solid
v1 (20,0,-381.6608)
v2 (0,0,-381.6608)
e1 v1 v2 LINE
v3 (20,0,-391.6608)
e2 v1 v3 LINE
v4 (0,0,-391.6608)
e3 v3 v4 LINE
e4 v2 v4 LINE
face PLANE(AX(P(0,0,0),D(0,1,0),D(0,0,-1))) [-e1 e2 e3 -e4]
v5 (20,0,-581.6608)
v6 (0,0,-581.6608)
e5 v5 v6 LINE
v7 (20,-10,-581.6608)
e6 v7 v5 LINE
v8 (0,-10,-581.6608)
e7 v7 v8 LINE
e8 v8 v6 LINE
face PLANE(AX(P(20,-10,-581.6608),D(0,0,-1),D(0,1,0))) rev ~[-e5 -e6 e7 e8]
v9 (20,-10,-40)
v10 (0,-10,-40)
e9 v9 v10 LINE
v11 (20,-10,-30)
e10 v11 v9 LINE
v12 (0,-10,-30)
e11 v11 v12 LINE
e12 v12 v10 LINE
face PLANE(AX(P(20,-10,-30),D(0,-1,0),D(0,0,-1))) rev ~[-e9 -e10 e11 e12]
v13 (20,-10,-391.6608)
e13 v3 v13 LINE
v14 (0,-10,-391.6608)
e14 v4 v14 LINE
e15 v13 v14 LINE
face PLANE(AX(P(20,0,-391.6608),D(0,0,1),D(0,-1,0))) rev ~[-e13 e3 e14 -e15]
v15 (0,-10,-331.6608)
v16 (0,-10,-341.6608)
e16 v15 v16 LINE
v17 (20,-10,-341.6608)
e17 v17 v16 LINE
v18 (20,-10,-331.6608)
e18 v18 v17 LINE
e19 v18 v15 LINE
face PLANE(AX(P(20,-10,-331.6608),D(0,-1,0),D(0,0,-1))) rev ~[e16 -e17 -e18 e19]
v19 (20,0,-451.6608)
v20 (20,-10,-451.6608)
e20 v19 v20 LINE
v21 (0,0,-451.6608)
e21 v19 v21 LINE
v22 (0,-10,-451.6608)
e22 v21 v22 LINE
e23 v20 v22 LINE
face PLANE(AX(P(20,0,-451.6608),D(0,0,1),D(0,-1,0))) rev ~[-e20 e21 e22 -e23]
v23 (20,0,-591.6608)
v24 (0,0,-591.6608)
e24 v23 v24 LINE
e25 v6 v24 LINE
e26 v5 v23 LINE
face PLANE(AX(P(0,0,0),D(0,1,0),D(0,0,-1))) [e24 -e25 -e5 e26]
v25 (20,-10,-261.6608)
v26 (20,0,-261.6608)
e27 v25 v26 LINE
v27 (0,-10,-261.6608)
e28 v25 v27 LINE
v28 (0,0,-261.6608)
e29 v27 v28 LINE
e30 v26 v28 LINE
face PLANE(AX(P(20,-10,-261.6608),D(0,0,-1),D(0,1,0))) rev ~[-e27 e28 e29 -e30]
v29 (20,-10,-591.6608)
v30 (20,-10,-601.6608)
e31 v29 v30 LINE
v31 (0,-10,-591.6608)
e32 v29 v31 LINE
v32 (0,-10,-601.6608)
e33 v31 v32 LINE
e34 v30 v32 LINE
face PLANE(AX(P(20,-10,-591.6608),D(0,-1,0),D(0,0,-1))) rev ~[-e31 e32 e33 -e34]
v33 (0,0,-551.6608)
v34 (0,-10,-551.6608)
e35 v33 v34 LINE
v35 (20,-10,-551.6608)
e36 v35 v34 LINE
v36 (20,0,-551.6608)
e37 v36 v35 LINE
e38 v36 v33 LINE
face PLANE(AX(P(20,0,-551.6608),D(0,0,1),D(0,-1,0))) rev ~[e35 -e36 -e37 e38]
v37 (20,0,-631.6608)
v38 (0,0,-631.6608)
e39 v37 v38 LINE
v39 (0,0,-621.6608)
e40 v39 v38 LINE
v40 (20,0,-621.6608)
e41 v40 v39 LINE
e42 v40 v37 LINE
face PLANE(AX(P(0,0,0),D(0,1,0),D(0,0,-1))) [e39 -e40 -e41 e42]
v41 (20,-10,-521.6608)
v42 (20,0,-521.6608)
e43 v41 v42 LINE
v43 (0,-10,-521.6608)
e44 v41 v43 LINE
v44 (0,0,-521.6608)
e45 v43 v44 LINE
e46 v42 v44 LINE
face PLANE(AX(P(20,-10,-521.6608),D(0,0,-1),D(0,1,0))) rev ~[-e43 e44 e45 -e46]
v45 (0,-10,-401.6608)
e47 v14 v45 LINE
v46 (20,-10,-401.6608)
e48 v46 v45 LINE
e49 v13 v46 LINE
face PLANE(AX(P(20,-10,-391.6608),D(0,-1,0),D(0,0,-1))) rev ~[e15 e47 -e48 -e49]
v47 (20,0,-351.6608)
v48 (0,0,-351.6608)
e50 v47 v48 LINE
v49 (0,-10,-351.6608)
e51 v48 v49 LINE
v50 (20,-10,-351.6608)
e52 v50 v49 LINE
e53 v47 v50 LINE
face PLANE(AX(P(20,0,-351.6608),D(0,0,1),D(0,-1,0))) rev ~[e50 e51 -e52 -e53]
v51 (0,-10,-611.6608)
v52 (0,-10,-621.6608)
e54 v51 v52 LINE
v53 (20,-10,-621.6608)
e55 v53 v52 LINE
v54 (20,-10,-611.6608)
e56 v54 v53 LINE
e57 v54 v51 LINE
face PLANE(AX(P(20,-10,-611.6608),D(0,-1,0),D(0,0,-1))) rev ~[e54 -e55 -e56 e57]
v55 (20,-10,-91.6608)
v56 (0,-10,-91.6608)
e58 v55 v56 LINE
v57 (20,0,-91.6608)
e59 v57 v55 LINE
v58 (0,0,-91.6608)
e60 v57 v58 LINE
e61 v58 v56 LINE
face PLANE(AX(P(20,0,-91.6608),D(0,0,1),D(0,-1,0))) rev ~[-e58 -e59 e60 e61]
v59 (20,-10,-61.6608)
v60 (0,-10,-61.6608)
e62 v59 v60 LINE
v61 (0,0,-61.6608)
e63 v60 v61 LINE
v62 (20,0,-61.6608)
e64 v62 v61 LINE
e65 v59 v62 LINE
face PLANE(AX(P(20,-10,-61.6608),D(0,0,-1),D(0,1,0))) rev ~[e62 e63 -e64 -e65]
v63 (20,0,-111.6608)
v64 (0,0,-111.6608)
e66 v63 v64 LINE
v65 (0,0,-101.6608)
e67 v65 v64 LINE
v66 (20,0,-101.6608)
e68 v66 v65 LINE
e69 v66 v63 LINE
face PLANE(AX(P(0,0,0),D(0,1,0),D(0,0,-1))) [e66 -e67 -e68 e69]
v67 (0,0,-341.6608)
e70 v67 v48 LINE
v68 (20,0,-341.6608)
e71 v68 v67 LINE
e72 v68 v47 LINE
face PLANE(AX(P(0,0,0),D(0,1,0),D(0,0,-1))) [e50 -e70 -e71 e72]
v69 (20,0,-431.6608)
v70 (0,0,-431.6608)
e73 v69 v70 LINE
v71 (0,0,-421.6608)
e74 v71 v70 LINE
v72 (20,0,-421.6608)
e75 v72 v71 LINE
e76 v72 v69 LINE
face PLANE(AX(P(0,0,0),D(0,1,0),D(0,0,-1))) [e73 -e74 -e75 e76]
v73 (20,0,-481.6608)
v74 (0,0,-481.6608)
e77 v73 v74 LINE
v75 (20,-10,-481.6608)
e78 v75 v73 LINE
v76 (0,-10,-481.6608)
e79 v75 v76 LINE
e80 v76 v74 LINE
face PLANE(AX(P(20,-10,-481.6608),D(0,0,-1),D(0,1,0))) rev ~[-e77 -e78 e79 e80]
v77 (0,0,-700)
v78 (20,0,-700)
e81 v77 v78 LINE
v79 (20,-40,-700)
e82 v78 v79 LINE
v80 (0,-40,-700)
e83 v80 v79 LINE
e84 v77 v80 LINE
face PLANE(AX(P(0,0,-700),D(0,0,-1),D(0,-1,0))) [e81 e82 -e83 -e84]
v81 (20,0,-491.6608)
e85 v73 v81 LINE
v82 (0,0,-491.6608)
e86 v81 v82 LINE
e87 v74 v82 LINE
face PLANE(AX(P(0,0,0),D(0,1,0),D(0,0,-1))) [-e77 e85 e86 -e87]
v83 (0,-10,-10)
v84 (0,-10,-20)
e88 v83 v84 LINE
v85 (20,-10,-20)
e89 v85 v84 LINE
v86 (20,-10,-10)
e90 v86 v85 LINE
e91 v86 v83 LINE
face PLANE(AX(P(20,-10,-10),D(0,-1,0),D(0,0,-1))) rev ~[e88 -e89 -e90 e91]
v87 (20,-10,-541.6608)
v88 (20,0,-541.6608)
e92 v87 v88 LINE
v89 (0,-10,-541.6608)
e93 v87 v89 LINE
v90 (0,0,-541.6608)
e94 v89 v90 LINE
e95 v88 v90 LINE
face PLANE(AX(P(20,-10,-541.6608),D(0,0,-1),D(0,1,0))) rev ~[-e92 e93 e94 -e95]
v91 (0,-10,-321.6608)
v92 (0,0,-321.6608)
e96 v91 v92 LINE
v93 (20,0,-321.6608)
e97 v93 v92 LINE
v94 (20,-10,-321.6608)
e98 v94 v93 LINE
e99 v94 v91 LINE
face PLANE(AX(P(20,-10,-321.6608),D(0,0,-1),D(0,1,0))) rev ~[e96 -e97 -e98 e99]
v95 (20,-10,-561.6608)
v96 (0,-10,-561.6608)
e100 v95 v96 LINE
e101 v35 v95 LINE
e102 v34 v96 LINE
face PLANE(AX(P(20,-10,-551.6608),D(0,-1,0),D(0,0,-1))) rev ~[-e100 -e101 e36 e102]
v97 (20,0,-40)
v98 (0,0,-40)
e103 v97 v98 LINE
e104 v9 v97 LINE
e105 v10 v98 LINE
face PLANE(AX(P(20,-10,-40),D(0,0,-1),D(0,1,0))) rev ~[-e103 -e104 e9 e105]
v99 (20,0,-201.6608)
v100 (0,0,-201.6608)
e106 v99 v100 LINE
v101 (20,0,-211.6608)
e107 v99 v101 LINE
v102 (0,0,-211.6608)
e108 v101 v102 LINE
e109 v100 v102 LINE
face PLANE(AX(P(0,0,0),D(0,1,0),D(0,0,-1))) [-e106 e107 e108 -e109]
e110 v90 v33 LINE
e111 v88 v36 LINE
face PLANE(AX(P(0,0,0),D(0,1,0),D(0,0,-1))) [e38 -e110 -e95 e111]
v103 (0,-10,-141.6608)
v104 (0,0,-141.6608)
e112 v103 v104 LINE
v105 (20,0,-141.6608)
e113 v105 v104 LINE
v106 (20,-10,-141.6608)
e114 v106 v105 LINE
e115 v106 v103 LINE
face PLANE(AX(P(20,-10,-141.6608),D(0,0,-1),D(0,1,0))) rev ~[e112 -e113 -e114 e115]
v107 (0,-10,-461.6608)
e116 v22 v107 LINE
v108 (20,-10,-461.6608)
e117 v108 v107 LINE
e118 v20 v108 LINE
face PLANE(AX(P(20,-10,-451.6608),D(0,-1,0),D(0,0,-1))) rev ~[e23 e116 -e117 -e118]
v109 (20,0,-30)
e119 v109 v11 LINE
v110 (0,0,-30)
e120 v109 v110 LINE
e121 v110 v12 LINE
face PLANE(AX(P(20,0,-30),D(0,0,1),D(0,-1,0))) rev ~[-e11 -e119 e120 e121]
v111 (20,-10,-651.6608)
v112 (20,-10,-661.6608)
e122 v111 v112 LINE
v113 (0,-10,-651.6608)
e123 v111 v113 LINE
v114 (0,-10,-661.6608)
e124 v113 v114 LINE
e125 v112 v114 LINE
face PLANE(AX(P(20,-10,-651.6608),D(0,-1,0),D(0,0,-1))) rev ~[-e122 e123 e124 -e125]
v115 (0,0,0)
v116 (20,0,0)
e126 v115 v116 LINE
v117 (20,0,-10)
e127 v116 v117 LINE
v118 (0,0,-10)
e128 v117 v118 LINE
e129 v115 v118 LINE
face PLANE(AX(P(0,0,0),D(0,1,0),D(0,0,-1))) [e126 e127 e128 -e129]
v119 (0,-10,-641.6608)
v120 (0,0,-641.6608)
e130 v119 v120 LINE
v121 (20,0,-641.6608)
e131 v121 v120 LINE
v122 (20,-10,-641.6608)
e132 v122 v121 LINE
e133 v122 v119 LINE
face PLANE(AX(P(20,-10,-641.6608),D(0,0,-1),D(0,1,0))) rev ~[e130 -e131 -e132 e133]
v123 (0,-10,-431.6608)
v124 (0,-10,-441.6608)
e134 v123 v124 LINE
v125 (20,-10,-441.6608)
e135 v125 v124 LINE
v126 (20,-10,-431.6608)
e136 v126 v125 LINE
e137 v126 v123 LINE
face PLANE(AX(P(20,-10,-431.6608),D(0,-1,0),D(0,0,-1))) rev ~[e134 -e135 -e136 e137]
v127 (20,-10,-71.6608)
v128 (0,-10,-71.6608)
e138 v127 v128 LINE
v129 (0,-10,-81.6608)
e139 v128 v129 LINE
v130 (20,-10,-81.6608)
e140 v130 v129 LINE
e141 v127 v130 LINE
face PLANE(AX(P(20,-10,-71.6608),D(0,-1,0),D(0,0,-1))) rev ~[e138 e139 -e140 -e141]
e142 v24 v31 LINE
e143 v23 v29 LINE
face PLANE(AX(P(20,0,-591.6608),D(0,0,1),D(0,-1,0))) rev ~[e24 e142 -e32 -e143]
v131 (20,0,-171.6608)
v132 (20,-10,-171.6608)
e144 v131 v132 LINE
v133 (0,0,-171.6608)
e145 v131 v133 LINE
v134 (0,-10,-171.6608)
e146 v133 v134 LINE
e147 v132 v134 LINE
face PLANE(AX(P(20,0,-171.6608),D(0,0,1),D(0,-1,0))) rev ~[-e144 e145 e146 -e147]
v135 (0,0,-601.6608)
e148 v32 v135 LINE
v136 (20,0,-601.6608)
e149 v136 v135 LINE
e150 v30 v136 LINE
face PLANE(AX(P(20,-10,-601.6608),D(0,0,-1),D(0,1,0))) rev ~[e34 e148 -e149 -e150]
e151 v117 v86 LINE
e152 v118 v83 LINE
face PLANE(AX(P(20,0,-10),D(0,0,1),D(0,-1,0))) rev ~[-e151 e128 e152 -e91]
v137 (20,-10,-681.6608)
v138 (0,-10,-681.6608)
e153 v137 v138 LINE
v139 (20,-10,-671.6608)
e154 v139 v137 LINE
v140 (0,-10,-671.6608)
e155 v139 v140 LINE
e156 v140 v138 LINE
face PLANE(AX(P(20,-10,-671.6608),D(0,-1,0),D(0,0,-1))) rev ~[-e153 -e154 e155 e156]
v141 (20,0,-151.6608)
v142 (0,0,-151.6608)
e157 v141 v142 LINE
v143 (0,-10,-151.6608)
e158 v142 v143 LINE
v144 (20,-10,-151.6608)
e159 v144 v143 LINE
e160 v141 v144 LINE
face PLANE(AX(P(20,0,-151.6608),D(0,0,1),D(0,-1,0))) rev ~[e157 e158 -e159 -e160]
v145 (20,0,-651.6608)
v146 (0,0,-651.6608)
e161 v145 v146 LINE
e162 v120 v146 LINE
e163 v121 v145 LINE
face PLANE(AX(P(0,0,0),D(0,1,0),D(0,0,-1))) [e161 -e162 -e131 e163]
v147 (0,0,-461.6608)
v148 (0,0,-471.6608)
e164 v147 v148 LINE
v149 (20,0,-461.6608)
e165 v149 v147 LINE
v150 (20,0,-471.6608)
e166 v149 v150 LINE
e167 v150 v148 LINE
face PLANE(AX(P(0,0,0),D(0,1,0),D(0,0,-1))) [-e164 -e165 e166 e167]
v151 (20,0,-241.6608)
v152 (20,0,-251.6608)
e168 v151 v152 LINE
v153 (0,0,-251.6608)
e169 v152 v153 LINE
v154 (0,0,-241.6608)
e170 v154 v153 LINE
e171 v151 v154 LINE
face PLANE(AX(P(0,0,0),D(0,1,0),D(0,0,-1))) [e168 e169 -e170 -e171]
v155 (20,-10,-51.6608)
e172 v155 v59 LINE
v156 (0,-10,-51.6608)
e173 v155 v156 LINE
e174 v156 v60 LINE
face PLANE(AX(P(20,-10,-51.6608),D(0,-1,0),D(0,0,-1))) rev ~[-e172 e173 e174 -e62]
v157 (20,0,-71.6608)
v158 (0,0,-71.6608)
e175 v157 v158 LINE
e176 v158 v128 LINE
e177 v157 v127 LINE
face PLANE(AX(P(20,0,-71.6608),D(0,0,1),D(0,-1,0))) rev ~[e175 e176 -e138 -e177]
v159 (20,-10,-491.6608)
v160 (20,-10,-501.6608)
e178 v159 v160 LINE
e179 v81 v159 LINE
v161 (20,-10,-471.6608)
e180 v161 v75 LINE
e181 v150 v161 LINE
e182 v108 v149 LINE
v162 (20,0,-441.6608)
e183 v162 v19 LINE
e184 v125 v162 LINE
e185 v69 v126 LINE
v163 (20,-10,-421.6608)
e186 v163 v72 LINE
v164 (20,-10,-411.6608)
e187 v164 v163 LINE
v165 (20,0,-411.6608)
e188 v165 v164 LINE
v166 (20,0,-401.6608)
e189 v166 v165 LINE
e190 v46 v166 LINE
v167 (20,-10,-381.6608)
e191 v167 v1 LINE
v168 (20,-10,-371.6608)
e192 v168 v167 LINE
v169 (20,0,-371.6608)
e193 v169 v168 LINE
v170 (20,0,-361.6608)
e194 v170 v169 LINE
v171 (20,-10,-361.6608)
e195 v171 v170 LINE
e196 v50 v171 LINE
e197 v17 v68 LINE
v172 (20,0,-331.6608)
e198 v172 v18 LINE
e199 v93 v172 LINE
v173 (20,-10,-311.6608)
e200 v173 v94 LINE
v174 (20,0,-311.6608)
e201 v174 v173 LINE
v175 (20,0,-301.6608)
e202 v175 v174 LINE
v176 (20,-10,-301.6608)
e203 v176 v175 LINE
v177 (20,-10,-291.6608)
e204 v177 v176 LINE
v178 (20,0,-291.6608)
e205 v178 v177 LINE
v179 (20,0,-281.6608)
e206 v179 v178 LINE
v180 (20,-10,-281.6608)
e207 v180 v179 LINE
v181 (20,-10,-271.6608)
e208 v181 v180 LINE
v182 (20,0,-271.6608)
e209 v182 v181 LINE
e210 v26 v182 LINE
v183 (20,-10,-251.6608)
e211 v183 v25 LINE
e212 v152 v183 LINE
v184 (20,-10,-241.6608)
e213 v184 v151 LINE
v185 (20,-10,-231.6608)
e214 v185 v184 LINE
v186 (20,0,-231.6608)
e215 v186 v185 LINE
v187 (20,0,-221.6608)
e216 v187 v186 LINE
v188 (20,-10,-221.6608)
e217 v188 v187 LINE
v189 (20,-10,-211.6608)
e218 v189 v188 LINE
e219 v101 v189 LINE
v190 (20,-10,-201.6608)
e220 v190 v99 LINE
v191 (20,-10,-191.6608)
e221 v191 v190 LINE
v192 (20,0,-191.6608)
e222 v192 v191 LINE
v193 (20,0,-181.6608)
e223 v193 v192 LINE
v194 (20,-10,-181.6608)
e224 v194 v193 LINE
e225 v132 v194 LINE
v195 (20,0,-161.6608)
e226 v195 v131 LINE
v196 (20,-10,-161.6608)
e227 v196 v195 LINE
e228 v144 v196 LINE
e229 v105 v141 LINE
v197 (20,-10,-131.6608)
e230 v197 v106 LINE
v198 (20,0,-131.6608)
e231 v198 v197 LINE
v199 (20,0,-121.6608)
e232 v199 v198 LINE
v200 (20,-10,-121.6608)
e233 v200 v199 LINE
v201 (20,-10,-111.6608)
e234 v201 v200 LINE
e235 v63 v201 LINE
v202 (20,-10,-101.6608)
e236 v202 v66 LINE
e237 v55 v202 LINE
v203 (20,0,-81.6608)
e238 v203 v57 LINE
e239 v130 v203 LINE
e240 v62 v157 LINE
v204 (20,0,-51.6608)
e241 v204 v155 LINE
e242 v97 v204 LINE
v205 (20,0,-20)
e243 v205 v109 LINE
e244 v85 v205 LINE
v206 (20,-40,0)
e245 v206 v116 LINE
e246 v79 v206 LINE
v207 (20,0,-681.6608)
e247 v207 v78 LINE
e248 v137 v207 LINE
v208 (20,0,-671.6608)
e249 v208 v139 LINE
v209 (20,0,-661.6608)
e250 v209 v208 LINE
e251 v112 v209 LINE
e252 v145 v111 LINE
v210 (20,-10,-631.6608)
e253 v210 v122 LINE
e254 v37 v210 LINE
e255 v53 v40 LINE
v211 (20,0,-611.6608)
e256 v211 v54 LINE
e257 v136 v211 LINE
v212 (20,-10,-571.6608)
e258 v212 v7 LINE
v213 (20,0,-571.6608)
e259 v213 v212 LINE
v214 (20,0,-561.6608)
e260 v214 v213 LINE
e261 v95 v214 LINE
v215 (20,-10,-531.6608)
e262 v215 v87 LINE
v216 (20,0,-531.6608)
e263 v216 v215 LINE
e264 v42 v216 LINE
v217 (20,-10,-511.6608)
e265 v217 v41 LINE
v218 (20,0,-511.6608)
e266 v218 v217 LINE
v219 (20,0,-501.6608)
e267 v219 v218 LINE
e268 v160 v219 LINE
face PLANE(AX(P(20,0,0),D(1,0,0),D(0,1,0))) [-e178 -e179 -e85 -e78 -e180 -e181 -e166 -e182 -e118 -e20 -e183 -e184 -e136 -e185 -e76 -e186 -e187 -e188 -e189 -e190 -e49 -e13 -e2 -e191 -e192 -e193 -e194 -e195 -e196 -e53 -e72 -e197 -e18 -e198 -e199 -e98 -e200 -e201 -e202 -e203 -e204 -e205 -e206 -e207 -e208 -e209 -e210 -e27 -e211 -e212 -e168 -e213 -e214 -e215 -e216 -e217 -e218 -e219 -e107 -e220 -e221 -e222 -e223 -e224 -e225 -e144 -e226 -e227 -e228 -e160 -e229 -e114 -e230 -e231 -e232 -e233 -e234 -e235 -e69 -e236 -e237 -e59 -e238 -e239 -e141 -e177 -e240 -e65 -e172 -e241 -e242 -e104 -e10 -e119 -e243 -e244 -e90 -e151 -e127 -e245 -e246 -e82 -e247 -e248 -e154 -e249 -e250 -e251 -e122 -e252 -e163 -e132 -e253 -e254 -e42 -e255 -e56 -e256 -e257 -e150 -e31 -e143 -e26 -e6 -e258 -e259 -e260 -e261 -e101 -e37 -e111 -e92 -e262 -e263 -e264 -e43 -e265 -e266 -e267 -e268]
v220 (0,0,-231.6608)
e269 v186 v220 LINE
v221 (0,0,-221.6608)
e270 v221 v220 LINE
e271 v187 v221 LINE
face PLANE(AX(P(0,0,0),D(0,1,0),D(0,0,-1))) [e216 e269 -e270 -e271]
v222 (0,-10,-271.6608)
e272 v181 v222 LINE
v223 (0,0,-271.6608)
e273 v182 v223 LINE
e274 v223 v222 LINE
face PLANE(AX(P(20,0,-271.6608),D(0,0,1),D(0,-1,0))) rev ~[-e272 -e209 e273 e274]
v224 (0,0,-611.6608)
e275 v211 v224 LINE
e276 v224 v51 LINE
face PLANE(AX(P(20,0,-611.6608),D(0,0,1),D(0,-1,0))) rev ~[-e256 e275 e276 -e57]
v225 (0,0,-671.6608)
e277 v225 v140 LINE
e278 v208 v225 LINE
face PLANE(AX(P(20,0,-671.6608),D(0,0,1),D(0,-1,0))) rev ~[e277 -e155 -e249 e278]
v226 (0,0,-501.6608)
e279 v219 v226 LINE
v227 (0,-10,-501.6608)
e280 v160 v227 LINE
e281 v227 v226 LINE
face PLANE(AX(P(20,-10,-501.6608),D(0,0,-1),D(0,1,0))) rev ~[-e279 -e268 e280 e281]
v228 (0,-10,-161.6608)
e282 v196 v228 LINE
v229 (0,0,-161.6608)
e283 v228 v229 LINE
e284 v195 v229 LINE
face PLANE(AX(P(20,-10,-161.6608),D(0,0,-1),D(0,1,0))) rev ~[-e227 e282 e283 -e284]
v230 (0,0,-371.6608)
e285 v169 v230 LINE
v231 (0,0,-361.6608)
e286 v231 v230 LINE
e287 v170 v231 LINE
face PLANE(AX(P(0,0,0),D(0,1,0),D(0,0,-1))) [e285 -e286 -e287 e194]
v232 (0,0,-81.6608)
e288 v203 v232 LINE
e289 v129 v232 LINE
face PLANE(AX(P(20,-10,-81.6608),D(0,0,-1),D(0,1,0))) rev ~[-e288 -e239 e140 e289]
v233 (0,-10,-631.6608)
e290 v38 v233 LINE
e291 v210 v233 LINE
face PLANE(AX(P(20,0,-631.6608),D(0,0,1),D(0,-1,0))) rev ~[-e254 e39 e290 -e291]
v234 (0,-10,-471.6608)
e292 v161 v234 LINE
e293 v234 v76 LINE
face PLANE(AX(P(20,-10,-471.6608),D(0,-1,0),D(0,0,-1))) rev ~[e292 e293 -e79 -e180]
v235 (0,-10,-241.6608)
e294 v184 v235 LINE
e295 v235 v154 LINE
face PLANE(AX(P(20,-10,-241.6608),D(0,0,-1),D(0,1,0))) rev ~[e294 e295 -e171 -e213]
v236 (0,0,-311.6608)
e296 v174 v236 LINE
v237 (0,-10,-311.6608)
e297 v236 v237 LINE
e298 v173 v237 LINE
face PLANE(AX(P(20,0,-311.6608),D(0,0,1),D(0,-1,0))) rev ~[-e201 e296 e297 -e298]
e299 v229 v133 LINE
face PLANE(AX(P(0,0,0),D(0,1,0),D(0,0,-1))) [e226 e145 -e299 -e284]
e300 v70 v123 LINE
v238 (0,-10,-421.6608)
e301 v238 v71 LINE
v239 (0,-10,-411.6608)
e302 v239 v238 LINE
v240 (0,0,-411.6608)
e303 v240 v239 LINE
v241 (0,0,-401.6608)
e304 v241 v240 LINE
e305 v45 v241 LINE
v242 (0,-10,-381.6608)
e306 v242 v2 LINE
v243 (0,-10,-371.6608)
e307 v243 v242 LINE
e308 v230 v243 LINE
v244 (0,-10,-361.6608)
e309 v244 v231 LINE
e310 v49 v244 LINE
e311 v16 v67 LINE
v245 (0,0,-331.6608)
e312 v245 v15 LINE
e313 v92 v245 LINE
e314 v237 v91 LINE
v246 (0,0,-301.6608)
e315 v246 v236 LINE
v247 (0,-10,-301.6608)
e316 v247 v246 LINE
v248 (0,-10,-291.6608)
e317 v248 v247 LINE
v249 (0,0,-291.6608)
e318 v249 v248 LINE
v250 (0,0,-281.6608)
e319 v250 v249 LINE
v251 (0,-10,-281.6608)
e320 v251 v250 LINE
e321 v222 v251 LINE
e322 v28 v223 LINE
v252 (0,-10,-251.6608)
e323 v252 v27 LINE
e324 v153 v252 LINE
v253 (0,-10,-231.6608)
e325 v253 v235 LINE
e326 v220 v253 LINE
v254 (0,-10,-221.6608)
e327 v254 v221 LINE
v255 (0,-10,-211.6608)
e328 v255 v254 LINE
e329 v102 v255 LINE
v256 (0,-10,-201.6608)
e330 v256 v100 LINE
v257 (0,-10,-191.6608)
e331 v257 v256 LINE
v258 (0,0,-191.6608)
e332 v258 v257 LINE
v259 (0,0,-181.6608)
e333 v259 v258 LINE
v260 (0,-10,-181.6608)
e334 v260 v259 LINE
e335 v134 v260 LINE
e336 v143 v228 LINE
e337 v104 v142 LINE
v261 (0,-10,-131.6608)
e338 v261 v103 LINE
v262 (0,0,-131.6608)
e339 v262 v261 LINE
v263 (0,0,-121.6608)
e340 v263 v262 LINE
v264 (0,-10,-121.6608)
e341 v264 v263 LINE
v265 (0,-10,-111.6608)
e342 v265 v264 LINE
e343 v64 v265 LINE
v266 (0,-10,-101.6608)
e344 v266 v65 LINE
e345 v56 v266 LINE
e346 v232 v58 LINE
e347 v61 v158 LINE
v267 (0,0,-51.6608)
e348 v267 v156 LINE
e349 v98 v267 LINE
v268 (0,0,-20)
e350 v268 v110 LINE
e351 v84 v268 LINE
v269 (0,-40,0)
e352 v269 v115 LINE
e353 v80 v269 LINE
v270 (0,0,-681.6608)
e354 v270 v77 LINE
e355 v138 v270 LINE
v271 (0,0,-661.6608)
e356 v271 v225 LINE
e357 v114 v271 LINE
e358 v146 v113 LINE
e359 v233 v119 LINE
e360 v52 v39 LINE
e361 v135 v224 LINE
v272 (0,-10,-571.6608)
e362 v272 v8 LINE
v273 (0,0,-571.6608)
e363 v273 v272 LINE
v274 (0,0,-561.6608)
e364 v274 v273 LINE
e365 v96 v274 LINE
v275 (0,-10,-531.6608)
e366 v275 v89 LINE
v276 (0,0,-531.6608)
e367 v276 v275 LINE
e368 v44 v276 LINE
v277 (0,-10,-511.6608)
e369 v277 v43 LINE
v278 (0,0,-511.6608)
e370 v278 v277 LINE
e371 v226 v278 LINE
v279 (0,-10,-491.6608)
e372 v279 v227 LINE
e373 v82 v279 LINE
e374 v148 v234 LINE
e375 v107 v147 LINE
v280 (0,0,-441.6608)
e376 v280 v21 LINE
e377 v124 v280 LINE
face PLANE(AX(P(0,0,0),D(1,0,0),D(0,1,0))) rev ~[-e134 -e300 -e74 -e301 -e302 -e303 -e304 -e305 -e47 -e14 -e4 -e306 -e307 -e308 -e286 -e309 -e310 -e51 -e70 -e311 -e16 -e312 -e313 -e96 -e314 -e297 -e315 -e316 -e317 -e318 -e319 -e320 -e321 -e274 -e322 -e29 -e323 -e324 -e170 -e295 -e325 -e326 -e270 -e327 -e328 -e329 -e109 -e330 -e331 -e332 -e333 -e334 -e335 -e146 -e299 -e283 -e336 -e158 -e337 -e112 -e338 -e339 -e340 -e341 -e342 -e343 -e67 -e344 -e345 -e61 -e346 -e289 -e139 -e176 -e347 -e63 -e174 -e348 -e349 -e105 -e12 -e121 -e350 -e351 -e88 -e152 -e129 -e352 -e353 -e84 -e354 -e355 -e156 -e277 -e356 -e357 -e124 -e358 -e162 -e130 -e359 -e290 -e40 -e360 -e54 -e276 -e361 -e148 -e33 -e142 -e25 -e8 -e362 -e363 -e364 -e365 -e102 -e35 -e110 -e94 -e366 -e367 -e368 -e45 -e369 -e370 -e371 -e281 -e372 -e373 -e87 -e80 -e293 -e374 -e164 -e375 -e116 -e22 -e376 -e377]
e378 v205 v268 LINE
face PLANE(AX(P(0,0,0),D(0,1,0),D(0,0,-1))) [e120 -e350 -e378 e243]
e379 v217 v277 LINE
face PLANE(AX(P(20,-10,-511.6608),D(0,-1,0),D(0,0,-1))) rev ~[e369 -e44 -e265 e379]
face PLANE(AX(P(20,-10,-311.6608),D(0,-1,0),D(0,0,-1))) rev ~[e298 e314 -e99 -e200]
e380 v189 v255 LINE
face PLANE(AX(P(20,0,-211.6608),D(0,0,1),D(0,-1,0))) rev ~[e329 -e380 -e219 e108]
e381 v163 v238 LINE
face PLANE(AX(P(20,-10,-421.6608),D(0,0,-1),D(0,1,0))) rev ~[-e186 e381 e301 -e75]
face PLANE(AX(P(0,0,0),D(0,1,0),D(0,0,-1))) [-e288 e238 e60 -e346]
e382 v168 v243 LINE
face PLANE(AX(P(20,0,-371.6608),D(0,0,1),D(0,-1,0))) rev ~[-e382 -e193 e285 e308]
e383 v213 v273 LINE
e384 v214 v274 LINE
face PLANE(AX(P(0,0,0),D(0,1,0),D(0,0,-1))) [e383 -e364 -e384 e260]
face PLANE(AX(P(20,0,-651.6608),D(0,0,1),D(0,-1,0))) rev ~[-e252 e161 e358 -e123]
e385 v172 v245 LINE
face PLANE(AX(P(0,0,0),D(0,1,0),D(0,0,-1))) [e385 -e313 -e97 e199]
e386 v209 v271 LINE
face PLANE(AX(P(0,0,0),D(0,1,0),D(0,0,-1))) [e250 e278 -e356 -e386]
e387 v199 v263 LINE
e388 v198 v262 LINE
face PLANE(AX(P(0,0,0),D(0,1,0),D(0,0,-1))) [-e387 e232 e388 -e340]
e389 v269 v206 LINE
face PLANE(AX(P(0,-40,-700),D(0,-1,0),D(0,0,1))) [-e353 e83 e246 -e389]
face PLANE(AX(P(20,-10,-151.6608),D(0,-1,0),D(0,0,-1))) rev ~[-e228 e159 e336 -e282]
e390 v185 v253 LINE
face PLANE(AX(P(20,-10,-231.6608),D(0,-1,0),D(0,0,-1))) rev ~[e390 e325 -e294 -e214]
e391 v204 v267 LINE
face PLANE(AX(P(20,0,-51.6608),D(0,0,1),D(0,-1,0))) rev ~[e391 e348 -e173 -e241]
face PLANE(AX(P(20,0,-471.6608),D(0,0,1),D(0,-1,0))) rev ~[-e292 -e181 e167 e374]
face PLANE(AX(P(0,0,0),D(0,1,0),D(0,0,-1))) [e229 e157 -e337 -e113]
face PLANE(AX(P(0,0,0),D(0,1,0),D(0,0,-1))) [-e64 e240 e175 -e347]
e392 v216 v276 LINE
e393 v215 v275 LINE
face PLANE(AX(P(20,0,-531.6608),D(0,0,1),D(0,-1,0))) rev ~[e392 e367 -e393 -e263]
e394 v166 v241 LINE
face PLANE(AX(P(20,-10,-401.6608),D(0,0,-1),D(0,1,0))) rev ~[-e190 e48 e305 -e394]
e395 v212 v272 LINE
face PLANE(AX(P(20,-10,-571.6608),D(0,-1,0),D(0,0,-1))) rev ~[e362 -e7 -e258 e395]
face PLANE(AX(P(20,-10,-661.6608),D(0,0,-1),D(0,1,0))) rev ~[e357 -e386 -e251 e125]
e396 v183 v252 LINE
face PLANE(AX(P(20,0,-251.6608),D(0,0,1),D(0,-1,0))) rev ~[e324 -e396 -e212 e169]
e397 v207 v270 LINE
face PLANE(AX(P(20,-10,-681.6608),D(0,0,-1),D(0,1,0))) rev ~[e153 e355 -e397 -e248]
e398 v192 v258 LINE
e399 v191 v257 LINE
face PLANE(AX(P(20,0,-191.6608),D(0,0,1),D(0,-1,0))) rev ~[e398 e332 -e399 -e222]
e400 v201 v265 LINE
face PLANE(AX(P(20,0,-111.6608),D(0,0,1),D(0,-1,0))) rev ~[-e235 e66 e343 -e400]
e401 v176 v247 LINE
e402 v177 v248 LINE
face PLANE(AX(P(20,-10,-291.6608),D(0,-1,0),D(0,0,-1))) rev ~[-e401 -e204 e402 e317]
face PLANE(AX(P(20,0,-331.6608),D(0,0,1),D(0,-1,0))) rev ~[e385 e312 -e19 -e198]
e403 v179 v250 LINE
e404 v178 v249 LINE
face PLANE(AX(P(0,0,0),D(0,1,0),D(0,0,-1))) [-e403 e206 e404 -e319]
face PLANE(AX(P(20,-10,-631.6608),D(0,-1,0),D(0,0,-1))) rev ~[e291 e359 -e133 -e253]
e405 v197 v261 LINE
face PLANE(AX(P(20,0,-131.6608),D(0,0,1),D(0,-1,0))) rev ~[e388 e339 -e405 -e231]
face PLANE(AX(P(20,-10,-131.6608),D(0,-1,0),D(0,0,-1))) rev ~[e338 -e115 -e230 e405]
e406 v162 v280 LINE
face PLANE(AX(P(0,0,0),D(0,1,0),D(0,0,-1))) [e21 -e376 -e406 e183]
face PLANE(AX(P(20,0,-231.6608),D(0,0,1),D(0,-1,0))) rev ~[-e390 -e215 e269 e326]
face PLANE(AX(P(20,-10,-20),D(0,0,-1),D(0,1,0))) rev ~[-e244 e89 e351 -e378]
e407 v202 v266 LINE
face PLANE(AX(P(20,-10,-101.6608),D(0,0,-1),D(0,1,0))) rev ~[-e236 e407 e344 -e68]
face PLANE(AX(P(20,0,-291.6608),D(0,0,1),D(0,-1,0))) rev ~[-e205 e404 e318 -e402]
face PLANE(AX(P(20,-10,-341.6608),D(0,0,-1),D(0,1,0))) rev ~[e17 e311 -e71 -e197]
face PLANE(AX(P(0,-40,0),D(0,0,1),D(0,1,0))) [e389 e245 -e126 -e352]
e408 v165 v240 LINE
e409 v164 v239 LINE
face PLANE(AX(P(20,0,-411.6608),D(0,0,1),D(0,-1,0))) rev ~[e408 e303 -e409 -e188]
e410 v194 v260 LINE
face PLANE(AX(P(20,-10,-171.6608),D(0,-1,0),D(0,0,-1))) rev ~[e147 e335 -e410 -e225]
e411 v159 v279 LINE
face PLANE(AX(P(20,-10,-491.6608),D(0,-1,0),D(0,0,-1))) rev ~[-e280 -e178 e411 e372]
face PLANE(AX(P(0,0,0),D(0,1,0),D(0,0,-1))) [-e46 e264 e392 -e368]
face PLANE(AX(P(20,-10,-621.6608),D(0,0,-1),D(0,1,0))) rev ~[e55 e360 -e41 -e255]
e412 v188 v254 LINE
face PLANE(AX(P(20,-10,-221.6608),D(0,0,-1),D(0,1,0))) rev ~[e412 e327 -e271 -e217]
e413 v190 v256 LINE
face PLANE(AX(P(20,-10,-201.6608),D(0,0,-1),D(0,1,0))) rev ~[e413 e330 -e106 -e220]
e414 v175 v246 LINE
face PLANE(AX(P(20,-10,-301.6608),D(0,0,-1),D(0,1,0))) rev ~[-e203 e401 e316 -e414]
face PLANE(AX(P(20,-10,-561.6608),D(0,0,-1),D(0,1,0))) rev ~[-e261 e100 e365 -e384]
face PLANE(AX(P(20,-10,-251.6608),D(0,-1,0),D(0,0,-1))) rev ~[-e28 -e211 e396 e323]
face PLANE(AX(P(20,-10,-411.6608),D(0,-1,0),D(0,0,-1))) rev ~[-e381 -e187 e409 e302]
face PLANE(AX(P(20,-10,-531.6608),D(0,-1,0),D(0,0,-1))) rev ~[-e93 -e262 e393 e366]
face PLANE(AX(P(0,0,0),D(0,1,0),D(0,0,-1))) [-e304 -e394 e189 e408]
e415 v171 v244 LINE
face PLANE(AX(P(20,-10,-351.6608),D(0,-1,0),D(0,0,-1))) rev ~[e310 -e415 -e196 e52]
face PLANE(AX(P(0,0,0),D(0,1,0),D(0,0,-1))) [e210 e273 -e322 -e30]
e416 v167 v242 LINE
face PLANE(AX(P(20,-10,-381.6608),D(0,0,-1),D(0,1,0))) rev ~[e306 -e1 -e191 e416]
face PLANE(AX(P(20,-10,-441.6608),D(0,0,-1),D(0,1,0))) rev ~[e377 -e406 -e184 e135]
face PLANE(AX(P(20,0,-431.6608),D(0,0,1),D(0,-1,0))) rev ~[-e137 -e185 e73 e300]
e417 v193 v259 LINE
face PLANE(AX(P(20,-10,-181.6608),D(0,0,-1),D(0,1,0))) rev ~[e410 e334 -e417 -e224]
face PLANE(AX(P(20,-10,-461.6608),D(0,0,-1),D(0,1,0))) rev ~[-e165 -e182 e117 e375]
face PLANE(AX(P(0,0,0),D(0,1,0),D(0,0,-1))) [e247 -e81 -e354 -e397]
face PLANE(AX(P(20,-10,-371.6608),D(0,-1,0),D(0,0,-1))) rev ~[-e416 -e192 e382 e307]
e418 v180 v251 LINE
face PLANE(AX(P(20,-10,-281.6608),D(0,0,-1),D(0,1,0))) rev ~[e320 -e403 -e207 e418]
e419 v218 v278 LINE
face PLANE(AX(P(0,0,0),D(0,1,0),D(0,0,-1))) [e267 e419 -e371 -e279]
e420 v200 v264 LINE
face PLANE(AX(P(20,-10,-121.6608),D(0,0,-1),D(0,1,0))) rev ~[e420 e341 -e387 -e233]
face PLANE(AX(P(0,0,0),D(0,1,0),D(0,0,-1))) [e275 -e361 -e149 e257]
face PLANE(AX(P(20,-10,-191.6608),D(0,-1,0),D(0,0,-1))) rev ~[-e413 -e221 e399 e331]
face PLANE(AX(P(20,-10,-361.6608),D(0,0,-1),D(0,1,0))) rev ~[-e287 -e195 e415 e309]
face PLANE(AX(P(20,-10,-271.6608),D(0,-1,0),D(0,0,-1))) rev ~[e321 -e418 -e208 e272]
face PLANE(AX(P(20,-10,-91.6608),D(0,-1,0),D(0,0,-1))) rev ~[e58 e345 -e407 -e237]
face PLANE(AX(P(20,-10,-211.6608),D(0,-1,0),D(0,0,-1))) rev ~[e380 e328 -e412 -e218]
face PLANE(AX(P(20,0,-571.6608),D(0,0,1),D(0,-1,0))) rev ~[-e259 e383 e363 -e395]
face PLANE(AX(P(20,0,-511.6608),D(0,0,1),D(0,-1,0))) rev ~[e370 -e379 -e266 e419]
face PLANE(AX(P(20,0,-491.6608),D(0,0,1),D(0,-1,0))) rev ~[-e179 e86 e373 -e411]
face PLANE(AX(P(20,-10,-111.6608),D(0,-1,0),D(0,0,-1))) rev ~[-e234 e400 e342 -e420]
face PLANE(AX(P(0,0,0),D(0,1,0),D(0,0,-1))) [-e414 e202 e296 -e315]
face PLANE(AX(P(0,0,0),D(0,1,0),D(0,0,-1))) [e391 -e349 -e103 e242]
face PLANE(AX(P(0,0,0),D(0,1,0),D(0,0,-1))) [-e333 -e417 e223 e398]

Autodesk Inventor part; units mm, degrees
ref_plane "YZ Plane" through (0, 0, 0) normal (1, 0, 0) x (0, 1, 0)
ref_plane "XZ Plane" through (0, 0, 0) normal (0, 1, 0) x (-1, 0, 0)
ref_plane "XY Plane" through (0, 0, 0) normal (0, 0, 1) x (1, 0, 0)
sketch "Sketch1" plane through (0, 0, 0) normal (1, 0, 0) x (0, 1, 0)
  line L0 (0, 0) -> (0, -700)
  line L1 (0, -700) -> (-40, -700)
  line L2 (-40, -700) -> (-40, 0)
  line L3 (-40, 0) -> (0, 0)
  dimension "d0" = 700
  dimension "d1" = 40
  dimension "d2" = 700
  dimension "d3" = 40
extrude "Extrusion1" add sketch "Sketch1" along normal blind 20
sketch "Sketch2" plane through (20, 0, 0) normal (1, 0, 0) x (0, 0, -1)
  line L0 (700, 0) -> (0, 0) projected
  line L1 (0, 0) -> (10, 0)
  line L2 (10, 0) -> (10, -10)
  line L3 (10, -10) -> (20, -10)
  line L4 (20, -10) -> (20, 0)
  line L5 (20, 0) -> (30, 0)
  line L6 (30, 0) -> (30, -10)
  line L7 (30, -10) -> (40, -10)
  line L8 (40, -10) -> (40, 0)
  line L9 (40, 0) -> (51.6608, 0)
  line L10 (51.6608, 0) -> (51.6608, -10)
  line L11 (51.6608, -10) -> (61.6608, -10)
  line L12 (61.6608, -10) -> (61.6608, 0)
  line L13 (61.6608, 0) -> (71.6608, 0)
  line L14 (71.6608, 0) -> (71.6608, -10)
  line L15 (71.6608, -10) -> (81.6608, -10)
  line L16 (81.6608, -10) -> (81.6608, 0)
  line L17 (81.6608, 0) -> (91.6608, 0)
  line L18 (91.6608, 0) -> (91.6608, -10)
  line L19 (91.6608, -10) -> (101.6608, -10)
  line L20 (101.6608, -10) -> (101.6608, 0)
  line L21 (101.6608, 0) -> (111.6608, 0)
  line L22 (111.6608, 0) -> (111.6608, -10)
  line L23 (111.6608, -10) -> (121.6608, -10)
  line L24 (121.6608, -10) -> (121.6608, 0)
  line L25 (121.6608, 0) -> (131.6608, 0)
  line L26 (131.6608, 0) -> (131.6608, -10)
  line L27 (131.6608, -10) -> (141.6608, -10)
  line L28 (141.6608, -10) -> (141.6608, 0)
  line L29 (141.6608, 0) -> (151.6608, 0)
  line L30 (151.6608, 0) -> (151.6608, -10)
  line L31 (151.6608, -10) -> (161.6608, -10)
  line L32 (161.6608, -10) -> (161.6608, 0)
  line L33 (161.6608, 0) -> (171.6608, 0)
  line L34 (171.6608, 0) -> (171.6608, -10)
  line L35 (171.6608, -10) -> (181.6608, -10)
  line L36 (181.6608, -10) -> (181.6608, 0)
  line L37 (181.6608, 0) -> (191.6608, 0)
  line L38 (191.6608, 0) -> (191.6608, -10)
  line L39 (191.6608, -10) -> (201.6608, -10)
  line L40 (201.6608, -10) -> (201.6608, 0)
  line L41 (0, 0) -> (700, 0)
  dimension "d6" = 10
  dimension "d7" = 10
  dimension "d8" = 10
  dimension "d9" = 10
  dimension "d10" = 10
  dimension "d11" = 10
  dimension "d12" = 10
  dimension "d13" = 10
  dimension "d14" = 10
  dimension "d15" = 10
  dimension "d16" = 10
  dimension "d17" = 10
  dimension "d18" = 10
  dimension "d19" = 10
  dimension "d20" = 10
  dimension "d21" = 10
  dimension "d22" = 10
  dimension "d23" = 10
  dimension "d24" = 10
  dimension "d25" = 10
  dimension "d26" = 10
  dimension "d27" = 10
  dimension "d28" = 10
  dimension "d29" = 10
  dimension "d30" = 10
  dimension "d31" = 10
  dimension "d32" = 10
  dimension "d33" = 10
  dimension "d34" = 10
  dimension "d35" = 10
  dimension "d36" = 10
  dimension "d37" = 10
  dimension "d38" = 10
  dimension "d39" = 10
  dimension "d40" = 10
  dimension "d41" = 10
  dimension "d42" = 10
  dimension "d43" = 10
  dimension "d44" = 10
  dimension "d45" = 700
extrude "Extrusion2" cut sketch "Sketch2" against normal blind 40
sketch "Sketch3" plane through (20, 0, 0) normal (1, 0, 0) x (0, 0, -1)
  line L0 (700, 0) -> (201.6608, 0) projected
  line L1 (201.6608, 0) -> (211.6608, 0)
  line L2 (211.6608, 0) -> (211.6608, -10)
  line L3 (211.6608, -10) -> (221.6608, -10)
  line L4 (221.6608, -10) -> (221.6608, 0)
  line L5 (221.6608, 0) -> (231.6608, 0)
  line L6 (231.6608, 0) -> (231.6608, -10)
  line L7 (231.6608, -10) -> (241.6608, -10)
  line L8 (241.6608, -10) -> (241.6608, 0)
  line L9 (241.6608, 0) -> (251.6608, 0)
  line L10 (251.6608, 0) -> (251.6608, -10)
  line L11 (251.6608, -10) -> (261.6608, -10)
  line L12 (261.6608, -10) -> (261.6608, 0)
  line L13 (261.6608, 0) -> (271.6608, 0)
  line L14 (271.6608, 0) -> (271.6608, -10)
  line L15 (271.6608, -10) -> (281.6608, -10)
  line L16 (281.6608, -10) -> (281.6608, 0)
  line L17 (281.6608, 0) -> (291.6608, 0)
  line L18 (291.6608, 0) -> (291.6608, -10)
  line L19 (291.6608, -10) -> (301.6608, -10)
  line L20 (301.6608, -10) -> (301.6608, 0)
  line L21 (301.6608, 0) -> (311.6608, 0)
  line L22 (311.6608, 0) -> (311.6608, -10)
  line L23 (311.6608, -10) -> (321.6608, -10)
  line L24 (321.6608, -10) -> (321.6608, 0)
  line L25 (321.6608, 0) -> (331.6608, 0)
  line L26 (331.6608, 0) -> (331.6608, -10)
  line L27 (331.6608, -10) -> (341.6608, -10)
  line L28 (341.6608, -10) -> (341.6608, 0)
  line L29 (341.6608, 0) -> (351.6608, 0)
  line L30 (351.6608, 0) -> (351.6608, -10)
  line L31 (351.6608, -10) -> (361.6608, -10)
  line L32 (361.6608, -10) -> (361.6608, 0)
  line L33 (361.6608, 0) -> (371.6608, 0)
  line L34 (371.6608, 0) -> (371.6608, -10)
  line L35 (371.6608, -10) -> (381.6608, -10)
  line L36 (381.6608, -10) -> (381.6608, 0)
  line L37 (381.6608, 0) -> (391.6608, 0)
  line L38 (391.6608, 0) -> (391.6608, -10)
  line L39 (391.6608, -10) -> (401.6608, -10)
  line L40 (401.6608, -10) -> (401.6608, 0)
  line L41 (401.6608, 0) -> (411.6608, 0)
  line L42 (411.6608, 0) -> (411.6608, -10)
  line L43 (411.6608, -10) -> (421.6608, -10)
  line L44 (421.6608, -10) -> (421.6608, 0)
  line L45 (421.6608, 0) -> (431.6608, 0)
  line L46 (431.6608, 0) -> (431.6608, -10)
  line L47 (431.6608, -10) -> (441.6608, -10)
  line L48 (441.6608, -10) -> (441.6608, 0)
  line L49 (441.6608, 0) -> (451.6608, 0)
  line L50 (451.6608, 0) -> (451.6608, -10)
  line L51 (451.6608, -10) -> (461.6608, -10)
  line L52 (461.6608, -10) -> (461.6608, 0)
  line L53 (461.6608, 0) -> (471.6608, 0)
  line L54 (471.6608, 0) -> (471.6608, -10)
  line L55 (471.6608, -10) -> (481.6608, -10)
  line L56 (481.6608, -10) -> (481.6608, 0)
  line L57 (481.6608, 0) -> (491.6608, 0)
  line L58 (491.6608, 0) -> (491.6608, -10)
  line L59 (491.6608, -10) -> (501.6608, -10)
  line L60 (501.6608, -10) -> (501.6608, 0)
  line L61 (501.6608, 0) -> (511.6608, 0)
  line L62 (511.6608, 0) -> (511.6608, -10)
  line L63 (511.6608, -10) -> (521.6608, -10)
  line L64 (521.6608, -10) -> (521.6608, 0)
  line L65 (521.6608, 0) -> (531.6608, 0)
  line L66 (531.6608, 0) -> (531.6608, -10)
  line L67 (531.6608, -10) -> (541.6608, -10)
  line L68 (541.6608, -10) -> (541.6608, 0)
  line L69 (541.6608, 0) -> (551.6608, 0)
  line L70 (551.6608, 0) -> (551.6608, -10)
  line L71 (551.6608, -10) -> (561.6608, -10)
  line L72 (561.6608, -10) -> (561.6608, 0)
  line L73 (561.6608, 0) -> (571.6608, 0)
  line L74 (571.6608, 0) -> (571.6608, -10)
  line L75 (571.6608, -10) -> (581.6608, -10)
  line L76 (581.6608, -10) -> (581.6608, 0)
  line L77 (581.6608, 0) -> (591.6608, 0)
  line L78 (591.6608, 0) -> (591.6608, -10)
  line L79 (591.6608, -10) -> (601.6608, -10)
  line L80 (601.6608, -10) -> (601.6608, 0)
  line L81 (601.6608, 0) -> (611.6608, 0)
  line L82 (611.6608, 0) -> (611.6608, -10)
  line L83 (611.6608, -10) -> (621.6608, -10)
  line L84 (621.6608, -10) -> (621.6608, 0)
  line L85 (621.6608, 0) -> (631.6608, 0)
  line L86 (631.6608, 0) -> (631.6608, -10)
  line L87 (631.6608, -10) -> (641.6608, -10)
  line L88 (641.6608, -10) -> (641.6608, 0)
  line L89 (641.6608, 0) -> (651.6608, 0)
  line L90 (651.6608, 0) -> (651.6608, -10)
  line L91 (651.6608, -10) -> (661.6608, -10)
  line L92 (661.6608, -10) -> (661.6608, 0)
  line L93 (661.6608, 0) -> (671.6608, 0)
  line L94 (671.6608, 0) -> (671.6608, -10)
  line L95 (671.6608, -10) -> (681.6608, -10)
  line L96 (681.6608, -10) -> (681.6608, 0)
  line L97 (681.6608, 0) -> (691.6608, 0)
  line L98 (691.6608, 0) -> (691.6608, -10)
  line L99 (691.6608, -10) -> (701.6608, -10)
  line L100 (201.6608, 0) -> (733.4893, 0)
  point P0 (0, 0)
  dimension "d48" = 10
  dimension "d49" = 10
  dimension "d50" = 10
  dimension "d51" = 10
  dimension "d52" = 10
  dimension "d53" = 10
  dimension "d54" = 10
  dimension "d55" = 10
  dimension "d56" = 10
  dimension "d57" = 10
  dimension "d58" = 10
  dimension "d59" = 10
  dimension "d60" = 10
  dimension "d61" = 10
  dimension "d62" = 10
  dimension "d63" = 10
  dimension "d64" = 10
  dimension "d65" = 10
  dimension "d66" = 10
  dimension "d67" = 10
  dimension "d68" = 10
  dimension "d69" = 10
  dimension "d70" = 10
  dimension "d71" = 10
  dimension "d72" = 10
  dimension "d73" = 10
  dimension "d74" = 10
  dimension "d75" = 10
  dimension "d76" = 10
  dimension "d77" = 10
  dimension "d78" = 10
  dimension "d79" = 10
  dimension "d80" = 10
  dimension "d81" = 10
  dimension "d82" = 10
  dimension "d83" = 10
  dimension "d84" = 10
  dimension "d85" = 10
  dimension "d86" = 10
  dimension "d87" = 10
  dimension "d88" = 10
  dimension "d89" = 10
  dimension "d90" = 10
  dimension "d91" = 10
  dimension "d92" = 10
  dimension "d93" = 10
  dimension "d94" = 10
  dimension "d95" = 10
  dimension "d96" = 10
  dimension "d97" = 10
  dimension "d98" = 10
  dimension "d99" = 10
  dimension "d100" = 10
  dimension "d101" = 10
  dimension "d102" = 10
  dimension "d103" = 10
  dimension "d104" = 10
  dimension "d105" = 10
  dimension "d106" = 10
  dimension "d107" = 10
  dimension "d108" = 10
  dimension "d109" = 10
  dimension "d110" = 10
  dimension "d111" = 10
extrude "Extrusion3" cut sketch "Sketch3" against normal blind 150
properties part number "rack"
